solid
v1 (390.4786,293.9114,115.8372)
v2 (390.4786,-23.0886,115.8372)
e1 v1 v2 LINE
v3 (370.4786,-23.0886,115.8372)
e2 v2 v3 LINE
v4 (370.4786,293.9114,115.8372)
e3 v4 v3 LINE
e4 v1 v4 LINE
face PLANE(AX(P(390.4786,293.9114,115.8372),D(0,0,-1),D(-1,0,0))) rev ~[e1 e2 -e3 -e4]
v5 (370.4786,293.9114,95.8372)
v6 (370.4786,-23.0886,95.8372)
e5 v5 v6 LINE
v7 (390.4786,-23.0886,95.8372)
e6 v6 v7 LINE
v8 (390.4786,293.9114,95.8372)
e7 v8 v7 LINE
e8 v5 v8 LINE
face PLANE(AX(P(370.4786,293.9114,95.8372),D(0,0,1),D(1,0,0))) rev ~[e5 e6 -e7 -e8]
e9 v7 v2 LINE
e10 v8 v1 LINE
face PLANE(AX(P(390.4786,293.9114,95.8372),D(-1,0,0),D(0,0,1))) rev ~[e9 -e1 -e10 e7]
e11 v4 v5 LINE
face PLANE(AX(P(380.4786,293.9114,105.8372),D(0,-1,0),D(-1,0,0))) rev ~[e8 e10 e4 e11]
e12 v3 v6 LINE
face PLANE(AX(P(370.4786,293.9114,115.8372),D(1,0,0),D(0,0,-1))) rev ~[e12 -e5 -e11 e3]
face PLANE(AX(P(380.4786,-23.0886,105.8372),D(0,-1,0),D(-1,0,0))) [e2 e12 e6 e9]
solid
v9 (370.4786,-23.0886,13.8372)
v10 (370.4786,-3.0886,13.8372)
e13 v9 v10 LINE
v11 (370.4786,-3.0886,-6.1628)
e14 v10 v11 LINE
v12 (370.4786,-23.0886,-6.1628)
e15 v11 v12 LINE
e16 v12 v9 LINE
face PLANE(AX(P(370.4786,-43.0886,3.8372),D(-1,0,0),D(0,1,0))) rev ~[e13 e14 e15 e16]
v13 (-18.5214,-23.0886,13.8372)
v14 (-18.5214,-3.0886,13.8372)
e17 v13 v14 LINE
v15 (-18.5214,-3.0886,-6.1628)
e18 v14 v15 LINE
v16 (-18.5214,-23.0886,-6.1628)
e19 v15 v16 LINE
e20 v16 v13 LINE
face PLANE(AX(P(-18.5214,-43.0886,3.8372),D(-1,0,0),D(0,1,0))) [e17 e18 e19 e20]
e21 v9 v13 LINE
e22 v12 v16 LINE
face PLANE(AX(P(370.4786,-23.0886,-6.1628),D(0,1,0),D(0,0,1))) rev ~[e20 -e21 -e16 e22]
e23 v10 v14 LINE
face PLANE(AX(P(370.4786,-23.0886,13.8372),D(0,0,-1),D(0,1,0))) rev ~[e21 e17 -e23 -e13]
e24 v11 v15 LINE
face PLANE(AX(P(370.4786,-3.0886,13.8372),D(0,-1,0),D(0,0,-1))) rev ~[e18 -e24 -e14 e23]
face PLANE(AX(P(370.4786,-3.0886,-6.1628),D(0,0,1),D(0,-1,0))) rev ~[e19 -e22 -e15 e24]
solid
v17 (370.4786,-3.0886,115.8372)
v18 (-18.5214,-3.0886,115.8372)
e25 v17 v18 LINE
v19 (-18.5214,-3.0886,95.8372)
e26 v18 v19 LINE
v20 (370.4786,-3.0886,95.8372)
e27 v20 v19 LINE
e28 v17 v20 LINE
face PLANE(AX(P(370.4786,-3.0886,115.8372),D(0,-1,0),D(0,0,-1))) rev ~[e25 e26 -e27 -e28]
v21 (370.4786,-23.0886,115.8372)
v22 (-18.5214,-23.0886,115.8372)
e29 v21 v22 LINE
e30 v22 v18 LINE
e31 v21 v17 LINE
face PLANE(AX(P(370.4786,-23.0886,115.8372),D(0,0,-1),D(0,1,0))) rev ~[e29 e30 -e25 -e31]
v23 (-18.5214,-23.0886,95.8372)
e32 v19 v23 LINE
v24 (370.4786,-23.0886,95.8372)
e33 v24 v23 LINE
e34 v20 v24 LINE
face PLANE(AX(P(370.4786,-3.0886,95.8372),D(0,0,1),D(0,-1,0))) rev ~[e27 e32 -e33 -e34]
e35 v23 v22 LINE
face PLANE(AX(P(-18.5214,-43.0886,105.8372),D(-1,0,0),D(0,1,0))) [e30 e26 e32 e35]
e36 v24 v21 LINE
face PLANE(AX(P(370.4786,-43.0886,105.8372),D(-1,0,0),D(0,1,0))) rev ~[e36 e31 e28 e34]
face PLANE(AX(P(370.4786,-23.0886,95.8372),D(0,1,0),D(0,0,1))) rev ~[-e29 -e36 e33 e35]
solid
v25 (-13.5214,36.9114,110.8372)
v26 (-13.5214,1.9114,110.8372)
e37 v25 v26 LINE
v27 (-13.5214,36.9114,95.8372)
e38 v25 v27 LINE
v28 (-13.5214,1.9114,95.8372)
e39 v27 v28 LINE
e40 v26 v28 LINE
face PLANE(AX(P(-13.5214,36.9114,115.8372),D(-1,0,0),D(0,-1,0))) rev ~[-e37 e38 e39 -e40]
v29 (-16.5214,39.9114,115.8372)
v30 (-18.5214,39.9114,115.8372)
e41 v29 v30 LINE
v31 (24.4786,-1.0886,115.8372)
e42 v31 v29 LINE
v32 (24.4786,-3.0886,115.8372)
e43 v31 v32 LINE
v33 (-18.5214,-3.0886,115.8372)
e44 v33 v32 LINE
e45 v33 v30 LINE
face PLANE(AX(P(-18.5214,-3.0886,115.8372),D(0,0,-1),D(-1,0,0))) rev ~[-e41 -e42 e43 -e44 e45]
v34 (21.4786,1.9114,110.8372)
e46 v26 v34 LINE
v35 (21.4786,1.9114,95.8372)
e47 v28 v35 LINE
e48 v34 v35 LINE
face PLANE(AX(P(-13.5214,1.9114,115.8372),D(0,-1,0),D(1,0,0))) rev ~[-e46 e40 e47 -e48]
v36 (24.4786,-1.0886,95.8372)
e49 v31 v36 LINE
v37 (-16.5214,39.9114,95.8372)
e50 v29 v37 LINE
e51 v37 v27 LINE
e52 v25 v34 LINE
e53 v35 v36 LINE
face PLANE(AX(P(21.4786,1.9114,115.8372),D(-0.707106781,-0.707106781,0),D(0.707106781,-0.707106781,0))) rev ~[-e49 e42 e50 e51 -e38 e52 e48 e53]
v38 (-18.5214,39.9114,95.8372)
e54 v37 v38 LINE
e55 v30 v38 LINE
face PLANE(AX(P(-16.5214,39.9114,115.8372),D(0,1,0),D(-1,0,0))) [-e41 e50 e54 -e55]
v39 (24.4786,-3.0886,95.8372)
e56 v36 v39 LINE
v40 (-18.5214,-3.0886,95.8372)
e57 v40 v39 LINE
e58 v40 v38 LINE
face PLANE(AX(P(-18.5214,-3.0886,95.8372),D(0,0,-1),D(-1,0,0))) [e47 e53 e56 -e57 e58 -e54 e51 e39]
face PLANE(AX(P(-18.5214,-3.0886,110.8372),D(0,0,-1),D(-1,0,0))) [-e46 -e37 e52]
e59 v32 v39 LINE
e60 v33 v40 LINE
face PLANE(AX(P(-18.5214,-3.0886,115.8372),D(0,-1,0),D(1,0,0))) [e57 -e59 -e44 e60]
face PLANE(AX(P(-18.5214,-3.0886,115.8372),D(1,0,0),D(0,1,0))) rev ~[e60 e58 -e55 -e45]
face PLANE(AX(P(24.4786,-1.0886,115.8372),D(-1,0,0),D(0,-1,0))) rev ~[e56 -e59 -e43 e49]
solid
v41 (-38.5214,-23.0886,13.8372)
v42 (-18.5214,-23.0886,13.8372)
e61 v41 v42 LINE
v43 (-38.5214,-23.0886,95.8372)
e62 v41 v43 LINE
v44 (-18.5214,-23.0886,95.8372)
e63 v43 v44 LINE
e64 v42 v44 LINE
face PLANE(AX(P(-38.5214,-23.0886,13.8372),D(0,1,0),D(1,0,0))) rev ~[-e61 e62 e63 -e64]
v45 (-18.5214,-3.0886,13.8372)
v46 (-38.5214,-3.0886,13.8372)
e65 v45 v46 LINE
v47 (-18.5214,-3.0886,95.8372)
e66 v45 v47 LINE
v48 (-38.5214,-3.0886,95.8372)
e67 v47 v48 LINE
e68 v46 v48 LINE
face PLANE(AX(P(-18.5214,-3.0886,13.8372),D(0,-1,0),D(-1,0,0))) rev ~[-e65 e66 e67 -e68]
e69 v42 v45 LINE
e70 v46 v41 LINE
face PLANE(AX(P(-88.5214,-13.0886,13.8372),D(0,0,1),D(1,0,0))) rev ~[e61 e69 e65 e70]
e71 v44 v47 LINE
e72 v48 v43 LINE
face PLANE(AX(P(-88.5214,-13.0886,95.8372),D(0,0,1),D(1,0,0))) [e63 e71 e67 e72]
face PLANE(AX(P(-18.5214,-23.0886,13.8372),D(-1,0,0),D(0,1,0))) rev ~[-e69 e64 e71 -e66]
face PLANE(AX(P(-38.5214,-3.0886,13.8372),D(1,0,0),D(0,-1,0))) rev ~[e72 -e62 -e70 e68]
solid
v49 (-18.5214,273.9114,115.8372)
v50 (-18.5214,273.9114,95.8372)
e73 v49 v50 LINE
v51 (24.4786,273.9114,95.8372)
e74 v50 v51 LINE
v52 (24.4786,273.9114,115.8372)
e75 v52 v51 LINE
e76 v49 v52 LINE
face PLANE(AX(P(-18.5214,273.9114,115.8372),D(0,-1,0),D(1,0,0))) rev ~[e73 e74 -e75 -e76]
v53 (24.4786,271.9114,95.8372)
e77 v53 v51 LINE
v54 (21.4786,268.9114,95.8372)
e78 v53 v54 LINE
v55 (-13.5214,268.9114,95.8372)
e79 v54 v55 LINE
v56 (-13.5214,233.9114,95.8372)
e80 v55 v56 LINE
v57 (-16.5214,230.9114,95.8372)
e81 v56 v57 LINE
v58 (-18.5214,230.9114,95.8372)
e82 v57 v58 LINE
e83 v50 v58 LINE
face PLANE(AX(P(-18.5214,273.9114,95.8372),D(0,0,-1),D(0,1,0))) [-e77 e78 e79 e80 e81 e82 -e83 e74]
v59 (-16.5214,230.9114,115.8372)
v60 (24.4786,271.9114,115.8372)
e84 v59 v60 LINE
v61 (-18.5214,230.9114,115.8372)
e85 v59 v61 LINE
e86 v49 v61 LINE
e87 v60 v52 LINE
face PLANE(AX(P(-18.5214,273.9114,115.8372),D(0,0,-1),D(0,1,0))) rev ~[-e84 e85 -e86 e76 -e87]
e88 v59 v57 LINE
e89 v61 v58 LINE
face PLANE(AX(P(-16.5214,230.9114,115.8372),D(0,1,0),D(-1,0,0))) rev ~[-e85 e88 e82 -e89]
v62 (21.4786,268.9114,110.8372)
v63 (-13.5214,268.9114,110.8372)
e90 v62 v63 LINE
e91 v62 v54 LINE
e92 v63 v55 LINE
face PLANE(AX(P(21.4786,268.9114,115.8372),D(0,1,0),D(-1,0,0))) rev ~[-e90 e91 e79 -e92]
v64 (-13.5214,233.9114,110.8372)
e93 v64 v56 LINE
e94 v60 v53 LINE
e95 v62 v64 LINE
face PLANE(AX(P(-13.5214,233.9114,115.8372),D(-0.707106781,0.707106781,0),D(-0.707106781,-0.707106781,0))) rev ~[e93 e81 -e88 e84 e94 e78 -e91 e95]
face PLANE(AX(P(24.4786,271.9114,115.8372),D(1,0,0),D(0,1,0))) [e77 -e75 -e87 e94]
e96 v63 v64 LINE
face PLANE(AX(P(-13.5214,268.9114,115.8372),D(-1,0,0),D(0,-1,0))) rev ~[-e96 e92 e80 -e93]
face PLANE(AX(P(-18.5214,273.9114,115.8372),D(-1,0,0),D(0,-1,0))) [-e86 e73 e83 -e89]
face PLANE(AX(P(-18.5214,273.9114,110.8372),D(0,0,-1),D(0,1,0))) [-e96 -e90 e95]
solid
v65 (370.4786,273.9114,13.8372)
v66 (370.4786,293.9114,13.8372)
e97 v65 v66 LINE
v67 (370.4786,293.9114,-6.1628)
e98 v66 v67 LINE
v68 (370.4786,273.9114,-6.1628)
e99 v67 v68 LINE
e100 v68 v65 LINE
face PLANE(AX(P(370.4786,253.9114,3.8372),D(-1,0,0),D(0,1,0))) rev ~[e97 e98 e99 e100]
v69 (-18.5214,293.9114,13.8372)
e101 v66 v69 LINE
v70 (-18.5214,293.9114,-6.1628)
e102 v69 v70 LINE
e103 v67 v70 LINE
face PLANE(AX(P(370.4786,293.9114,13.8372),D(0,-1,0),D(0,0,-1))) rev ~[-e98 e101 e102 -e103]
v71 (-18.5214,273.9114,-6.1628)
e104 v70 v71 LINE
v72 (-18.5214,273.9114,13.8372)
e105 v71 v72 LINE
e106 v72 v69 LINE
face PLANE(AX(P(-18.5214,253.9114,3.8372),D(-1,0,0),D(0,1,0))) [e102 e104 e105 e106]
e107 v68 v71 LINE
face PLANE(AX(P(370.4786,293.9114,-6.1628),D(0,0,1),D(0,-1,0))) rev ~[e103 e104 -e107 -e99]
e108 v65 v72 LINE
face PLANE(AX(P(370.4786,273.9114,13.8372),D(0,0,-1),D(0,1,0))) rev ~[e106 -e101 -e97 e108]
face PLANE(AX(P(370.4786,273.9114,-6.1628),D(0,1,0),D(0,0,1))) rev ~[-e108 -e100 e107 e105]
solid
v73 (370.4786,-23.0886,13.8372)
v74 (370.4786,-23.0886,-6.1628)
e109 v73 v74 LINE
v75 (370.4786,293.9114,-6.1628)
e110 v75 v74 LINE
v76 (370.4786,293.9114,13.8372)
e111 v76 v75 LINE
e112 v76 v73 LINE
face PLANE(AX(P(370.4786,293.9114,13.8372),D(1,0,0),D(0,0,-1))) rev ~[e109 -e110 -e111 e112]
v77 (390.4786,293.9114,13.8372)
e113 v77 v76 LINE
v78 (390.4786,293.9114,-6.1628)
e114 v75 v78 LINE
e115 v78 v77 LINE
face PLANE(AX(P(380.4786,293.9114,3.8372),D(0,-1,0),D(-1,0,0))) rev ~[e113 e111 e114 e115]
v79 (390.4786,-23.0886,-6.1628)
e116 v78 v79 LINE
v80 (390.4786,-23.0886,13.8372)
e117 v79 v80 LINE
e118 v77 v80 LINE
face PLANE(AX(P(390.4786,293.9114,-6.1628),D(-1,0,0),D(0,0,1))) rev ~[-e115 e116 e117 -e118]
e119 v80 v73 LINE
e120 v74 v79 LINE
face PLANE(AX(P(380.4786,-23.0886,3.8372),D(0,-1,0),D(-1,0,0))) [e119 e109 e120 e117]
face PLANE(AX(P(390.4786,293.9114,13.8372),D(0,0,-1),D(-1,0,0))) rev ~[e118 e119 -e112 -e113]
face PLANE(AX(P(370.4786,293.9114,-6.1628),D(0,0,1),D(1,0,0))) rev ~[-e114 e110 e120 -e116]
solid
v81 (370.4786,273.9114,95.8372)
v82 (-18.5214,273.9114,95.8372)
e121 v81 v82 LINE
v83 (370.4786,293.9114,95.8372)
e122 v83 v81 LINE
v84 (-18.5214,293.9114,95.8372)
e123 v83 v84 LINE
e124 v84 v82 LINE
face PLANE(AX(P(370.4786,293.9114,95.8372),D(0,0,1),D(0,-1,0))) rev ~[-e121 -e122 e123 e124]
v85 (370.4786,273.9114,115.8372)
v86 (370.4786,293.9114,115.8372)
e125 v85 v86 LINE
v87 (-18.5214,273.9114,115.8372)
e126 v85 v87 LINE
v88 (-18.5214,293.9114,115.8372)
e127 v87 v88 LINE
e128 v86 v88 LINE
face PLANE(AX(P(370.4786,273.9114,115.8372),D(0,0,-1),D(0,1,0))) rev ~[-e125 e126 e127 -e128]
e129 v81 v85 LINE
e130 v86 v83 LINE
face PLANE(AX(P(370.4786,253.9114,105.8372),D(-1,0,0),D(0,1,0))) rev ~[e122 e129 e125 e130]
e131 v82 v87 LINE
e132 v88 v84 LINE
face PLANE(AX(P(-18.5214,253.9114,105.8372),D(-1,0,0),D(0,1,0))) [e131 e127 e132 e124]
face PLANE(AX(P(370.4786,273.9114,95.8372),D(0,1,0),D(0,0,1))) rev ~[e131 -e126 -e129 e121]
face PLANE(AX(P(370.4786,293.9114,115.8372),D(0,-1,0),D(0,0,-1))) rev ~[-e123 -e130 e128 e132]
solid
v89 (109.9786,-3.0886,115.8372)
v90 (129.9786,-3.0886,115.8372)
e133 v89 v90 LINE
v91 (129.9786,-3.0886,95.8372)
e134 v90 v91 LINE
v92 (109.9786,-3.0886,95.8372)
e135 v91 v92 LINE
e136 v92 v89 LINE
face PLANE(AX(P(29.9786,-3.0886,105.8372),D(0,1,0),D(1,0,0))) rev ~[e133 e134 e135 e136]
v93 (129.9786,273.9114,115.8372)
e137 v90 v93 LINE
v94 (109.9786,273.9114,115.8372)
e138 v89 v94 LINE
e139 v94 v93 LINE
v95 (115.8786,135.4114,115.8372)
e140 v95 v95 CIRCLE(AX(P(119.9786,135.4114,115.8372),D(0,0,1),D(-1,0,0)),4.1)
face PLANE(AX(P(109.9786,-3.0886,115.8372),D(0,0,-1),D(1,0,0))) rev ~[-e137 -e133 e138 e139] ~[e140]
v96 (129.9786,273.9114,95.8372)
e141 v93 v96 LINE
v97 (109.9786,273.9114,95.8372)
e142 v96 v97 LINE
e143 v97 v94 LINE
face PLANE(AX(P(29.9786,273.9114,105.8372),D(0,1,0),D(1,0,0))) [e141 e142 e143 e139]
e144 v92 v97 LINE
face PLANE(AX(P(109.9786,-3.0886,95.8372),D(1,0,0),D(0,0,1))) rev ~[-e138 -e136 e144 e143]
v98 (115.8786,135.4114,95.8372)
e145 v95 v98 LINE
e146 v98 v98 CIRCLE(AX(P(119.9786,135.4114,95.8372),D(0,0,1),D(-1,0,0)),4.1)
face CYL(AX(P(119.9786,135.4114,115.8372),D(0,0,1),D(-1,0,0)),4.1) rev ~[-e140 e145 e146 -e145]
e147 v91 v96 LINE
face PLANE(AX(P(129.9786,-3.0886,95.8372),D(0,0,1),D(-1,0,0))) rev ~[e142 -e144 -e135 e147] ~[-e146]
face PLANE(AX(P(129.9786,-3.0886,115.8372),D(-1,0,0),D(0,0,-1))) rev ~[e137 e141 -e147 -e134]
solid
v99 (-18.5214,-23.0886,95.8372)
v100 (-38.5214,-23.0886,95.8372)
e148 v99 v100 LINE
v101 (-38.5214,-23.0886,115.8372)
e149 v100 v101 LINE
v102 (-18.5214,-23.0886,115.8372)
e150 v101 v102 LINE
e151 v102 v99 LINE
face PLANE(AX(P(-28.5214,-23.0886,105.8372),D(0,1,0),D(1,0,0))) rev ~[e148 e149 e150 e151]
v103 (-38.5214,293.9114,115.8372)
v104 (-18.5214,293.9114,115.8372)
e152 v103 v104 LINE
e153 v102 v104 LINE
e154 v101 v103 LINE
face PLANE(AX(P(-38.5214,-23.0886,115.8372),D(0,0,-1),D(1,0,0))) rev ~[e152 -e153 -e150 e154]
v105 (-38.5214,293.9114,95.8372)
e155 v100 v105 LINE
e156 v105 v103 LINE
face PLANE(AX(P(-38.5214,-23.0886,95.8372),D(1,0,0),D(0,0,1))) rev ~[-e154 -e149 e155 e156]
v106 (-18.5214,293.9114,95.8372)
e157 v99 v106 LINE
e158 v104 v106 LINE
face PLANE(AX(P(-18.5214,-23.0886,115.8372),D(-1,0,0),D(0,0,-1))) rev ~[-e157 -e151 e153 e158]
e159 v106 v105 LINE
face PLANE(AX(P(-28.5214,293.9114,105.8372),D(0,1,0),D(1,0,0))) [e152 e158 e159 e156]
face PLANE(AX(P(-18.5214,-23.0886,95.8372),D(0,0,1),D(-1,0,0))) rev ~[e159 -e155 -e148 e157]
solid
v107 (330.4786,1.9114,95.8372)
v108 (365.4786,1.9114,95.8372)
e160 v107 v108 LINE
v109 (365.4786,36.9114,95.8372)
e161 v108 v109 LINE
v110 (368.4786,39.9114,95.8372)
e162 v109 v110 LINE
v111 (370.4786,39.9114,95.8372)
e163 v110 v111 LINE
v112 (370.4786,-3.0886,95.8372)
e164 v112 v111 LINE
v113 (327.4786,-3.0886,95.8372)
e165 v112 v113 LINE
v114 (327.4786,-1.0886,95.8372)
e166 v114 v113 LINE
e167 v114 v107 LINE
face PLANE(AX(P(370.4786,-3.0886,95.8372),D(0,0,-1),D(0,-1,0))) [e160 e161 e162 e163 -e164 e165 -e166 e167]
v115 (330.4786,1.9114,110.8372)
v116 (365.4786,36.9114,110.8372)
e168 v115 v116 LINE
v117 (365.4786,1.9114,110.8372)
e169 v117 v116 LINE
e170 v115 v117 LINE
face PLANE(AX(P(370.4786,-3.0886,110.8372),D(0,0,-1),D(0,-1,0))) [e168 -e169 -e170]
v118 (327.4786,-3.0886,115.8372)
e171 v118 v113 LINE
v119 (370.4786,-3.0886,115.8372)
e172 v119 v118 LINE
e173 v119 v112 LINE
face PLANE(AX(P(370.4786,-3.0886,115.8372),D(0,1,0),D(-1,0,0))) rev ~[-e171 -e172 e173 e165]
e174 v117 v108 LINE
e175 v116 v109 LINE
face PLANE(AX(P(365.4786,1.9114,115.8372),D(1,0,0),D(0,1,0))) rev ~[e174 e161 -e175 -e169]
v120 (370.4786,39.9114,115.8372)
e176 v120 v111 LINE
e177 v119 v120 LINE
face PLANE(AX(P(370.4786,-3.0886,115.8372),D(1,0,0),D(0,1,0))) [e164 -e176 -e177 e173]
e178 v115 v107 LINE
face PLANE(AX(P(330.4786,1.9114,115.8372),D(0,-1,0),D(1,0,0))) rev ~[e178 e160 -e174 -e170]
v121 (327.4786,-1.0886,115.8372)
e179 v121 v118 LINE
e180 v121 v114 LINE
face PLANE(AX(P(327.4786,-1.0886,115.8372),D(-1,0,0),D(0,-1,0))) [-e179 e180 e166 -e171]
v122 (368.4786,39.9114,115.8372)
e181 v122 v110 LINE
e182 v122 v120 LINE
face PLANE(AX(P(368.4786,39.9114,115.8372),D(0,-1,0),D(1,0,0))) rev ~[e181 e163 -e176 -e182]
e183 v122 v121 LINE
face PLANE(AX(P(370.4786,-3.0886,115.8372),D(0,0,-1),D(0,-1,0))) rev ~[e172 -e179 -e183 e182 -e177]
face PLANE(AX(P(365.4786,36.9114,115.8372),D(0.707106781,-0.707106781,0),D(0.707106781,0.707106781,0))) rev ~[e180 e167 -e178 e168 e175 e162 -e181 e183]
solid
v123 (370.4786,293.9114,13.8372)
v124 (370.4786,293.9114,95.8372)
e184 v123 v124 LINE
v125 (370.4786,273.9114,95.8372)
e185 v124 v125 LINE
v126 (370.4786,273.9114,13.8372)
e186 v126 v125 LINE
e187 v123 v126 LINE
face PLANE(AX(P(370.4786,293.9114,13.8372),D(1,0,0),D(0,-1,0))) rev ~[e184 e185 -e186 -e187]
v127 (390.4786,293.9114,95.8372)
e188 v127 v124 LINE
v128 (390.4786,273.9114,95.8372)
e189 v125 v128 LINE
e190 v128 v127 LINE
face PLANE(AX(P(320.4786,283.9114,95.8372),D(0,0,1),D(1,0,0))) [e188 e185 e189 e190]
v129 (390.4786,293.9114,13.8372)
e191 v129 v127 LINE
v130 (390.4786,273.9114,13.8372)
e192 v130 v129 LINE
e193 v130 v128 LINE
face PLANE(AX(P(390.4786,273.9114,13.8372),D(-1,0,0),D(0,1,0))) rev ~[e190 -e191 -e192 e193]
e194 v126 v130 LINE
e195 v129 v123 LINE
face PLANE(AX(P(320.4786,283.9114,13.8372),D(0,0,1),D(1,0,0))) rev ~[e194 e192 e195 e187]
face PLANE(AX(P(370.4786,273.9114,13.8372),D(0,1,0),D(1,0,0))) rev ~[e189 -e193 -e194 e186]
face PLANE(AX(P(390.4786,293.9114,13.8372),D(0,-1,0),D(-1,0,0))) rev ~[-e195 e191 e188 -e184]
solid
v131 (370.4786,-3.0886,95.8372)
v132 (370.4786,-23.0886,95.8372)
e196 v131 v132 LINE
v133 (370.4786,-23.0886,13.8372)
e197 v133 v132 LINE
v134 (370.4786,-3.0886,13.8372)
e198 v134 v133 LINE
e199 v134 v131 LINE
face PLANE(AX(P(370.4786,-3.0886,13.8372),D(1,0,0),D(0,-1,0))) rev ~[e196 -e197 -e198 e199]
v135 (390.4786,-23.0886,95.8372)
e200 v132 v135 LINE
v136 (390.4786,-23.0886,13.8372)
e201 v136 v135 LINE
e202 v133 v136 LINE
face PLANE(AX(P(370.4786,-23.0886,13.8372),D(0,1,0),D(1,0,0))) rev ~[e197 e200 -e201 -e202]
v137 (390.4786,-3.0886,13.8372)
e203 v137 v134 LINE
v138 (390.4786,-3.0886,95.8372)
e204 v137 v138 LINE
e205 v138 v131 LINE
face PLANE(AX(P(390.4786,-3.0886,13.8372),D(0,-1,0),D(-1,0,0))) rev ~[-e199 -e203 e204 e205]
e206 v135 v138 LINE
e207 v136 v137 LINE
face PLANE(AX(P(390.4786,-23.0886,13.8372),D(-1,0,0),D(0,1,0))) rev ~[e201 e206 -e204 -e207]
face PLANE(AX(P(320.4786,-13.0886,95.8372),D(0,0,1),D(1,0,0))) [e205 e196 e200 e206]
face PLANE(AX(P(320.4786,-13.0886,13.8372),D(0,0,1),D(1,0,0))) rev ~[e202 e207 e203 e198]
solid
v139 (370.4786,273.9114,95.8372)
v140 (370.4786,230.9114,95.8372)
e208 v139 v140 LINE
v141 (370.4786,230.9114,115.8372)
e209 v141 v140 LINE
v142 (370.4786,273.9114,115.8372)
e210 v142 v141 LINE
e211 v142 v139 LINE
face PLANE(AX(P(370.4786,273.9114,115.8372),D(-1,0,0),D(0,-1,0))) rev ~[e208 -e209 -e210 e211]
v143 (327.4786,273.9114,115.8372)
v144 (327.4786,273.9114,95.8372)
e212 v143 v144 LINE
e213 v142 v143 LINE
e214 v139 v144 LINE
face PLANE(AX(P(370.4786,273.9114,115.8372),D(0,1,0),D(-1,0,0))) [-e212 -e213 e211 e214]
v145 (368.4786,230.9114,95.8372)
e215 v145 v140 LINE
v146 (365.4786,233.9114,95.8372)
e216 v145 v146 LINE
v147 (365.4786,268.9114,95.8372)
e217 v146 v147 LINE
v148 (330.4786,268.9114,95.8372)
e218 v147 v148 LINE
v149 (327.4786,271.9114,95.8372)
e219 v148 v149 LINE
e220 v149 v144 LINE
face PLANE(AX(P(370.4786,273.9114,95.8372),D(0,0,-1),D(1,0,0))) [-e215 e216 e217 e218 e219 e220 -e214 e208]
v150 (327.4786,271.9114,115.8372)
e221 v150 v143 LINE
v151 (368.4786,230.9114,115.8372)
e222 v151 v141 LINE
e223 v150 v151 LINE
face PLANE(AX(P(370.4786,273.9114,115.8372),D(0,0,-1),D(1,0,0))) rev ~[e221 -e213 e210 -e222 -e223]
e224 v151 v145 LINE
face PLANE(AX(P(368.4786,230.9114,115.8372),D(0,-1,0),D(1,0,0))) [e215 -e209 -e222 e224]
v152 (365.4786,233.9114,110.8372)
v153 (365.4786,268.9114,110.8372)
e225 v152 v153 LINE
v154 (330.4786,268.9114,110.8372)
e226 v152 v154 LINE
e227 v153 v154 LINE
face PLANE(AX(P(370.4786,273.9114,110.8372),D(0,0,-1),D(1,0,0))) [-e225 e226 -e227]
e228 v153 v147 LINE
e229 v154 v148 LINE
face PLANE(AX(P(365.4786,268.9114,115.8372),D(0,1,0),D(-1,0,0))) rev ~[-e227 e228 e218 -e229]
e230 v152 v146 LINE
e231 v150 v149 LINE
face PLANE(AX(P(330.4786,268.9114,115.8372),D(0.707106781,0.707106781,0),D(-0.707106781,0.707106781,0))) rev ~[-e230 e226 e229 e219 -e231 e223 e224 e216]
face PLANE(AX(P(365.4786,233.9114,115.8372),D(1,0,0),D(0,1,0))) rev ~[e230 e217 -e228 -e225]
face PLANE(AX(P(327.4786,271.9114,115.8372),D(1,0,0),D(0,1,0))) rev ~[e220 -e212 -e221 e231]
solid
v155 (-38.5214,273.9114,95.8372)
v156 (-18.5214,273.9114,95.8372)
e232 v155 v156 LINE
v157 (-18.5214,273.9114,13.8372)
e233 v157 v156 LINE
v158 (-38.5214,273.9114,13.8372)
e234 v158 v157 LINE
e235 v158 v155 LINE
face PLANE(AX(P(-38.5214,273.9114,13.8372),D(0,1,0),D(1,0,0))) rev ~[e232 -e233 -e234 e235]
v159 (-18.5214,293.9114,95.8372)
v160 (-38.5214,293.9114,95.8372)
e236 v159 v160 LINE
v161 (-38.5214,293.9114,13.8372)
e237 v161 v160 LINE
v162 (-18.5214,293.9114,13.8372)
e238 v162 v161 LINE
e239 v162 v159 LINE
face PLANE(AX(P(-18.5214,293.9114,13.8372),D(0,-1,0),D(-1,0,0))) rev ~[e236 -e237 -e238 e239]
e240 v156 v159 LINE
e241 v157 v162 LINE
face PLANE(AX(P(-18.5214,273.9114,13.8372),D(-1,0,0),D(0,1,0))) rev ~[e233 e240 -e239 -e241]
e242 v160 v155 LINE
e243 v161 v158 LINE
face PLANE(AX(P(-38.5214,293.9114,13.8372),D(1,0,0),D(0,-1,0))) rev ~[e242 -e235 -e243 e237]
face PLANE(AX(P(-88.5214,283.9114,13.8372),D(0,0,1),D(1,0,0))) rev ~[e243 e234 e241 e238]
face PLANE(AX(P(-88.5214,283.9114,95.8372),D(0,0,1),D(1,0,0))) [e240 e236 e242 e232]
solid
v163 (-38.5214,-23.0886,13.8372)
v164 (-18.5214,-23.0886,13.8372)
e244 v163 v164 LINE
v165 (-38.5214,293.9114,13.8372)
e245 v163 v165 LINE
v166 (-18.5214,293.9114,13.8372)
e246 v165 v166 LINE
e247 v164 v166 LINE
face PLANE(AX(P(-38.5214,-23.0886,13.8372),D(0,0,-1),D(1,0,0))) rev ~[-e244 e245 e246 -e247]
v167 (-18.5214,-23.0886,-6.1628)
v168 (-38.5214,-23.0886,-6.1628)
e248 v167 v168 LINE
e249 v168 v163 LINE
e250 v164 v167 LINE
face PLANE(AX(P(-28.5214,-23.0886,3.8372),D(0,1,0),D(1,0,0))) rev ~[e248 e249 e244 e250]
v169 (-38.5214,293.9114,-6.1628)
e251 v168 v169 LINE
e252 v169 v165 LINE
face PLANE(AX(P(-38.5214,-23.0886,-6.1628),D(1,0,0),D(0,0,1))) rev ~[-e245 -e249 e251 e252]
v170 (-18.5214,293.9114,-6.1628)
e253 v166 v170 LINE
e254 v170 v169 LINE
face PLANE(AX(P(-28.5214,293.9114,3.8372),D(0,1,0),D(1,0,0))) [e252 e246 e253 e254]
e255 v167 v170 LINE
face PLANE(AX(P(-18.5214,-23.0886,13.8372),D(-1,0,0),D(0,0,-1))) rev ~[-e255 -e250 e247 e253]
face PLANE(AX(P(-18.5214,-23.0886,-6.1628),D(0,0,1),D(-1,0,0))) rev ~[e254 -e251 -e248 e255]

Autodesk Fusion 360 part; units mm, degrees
sketch "Sketch1" plane through (0, 0, 0) normal (0, 1, 0) x (1, 0, 0)
  line L0 (10, 10) -> (-10, 10)
  line L1 (-10, 10) -> (-10, -10)
  line L2 (-10, -10) -> (10, -10)
  line L3 (10, -10) -> (10, 10)
  line L4 (10, 10) -> (-10, -10) construction
  line L5 (-10, 10) -> (10, -10) construction
  line L6 (20, 10) -> (20, -10)
  line L7 (20, -10) -> (40, -10)
  line L8 (40, -10) -> (40, 10)
  line L9 (40, 10) -> (20, 10)
  line L10 (50, 10) -> (50, -10)
  line L11 (50, -10) -> (70, -10)
  line L12 (70, -10) -> (70, 10)
  line L13 (70, 10) -> (50, 10)
  line L14 (100, 10) -> (80, 10)
  line L15 (80, 10) -> (80, -10)
  line L16 (80, -10) -> (100, -10)
  line L17 (100, -10) -> (100, 10)
  dimension "d1" = 20
  dimension "d2" = 20
  dimension "d5" = 20
  dimension "d6" = 20
  dimension "d9" = 20
  dimension "d10" = 20
  dimension "d145" = 20
  dimension "d146" = 20
extrude "Extrude1" add sketch "Sketch1" along normal blind 317 contours L0 L1 L2 L3 makes body 1
extrude "Extrude2" add sketch "Sketch1" along normal blind 389 separate body contours L6 L7 L8 L9 makes body 2
extrude "Extrude3" add sketch "Sketch1" along normal blind 82 separate body contours L10 L11 L12 L13 makes body 3
extrude "Extrude4" add sketch "Sketch1" along normal blind 277 separate body contours L14 L15 L16 L17 makes body 4
sketch "Sketch2" plane through (0, 0, 10) normal (0, 0, 1) x (-1, 0, 0)
  line L0 (-80, 0) -> (-100, 0)
  line L1 (-100, 0) -> (-100, -277)
  line L2 (-100, -277) -> (-80, -277)
  line L3 (-80, -277) -> (-80, 0)
  line L4 (-100, -277) -> (-80, 0) construction
  circle A0 centre (-90, -138.5) radius 4.1
  dimension "d149" = 8.2
extrude "Extrude5" cut sketch "Sketch2" against normal through all contours A0 bodies 4
copy_body "Body->Comp1" bodies 3 removing the originals makes body 5 in component "Profile_20x20x82"
copy_body "Body->Comp2" bodies 1 removing the originals makes body 6 in component "Profile_20x20x317"
copy_body "Body->Comp3" bodies 2 removing the originals makes body 7 in component "Profile_20x20x389"
copy_body "Body->Comp4" bodies 4 removing the originals makes body 8 in component "Profile_20x20x277"
sketch "Sketch1 (2)" plane through (0, 0, 0) normal (0, 0, 1) x (1, 0, 0) in component "Corner Structure v3"
  line L0 (0, 0) -> (-45, 0)
  line L1 (0, 0) -> (0, 45)
  line L2 (0, 45) -> (-45, 0)
  line L3 (-5, 40) -> (-5, 5)
  line L4 (-5, 5) -> (-40, 5)
  line L5 (-2, 43) -> (0, 43)
  line L6 (-43, 2) -> (-43, 0)
  dimension "d1_1" = 45
  dimension "d2_1" = 45
  dimension "d5_1" = 5
  dimension "d6_1" = 5
  dimension "d7_1" = 2
  dimension "d8_1" = 2
extrude "Extrude2'" add sketch "Sketch1 (2)" along normal blind 20 separate body contours L0 L1 L2 L3 L4 L5 L6 makes body 9 in component "Corner Structure v3"
extrude "Extrude3'" add sketch "Sketch1 (2)" along normal blind 5 contours L2 L3 L4 bodies 9 in component "Corner Structure v3"
sketch "Sketch1 (3)" plane through (0, 0, 0) normal (0, 0, 1) x (1, 0, 0) in component "Corner Structure v3 (1)"
  line L0 (0, 0) -> (-45, 0)
  line L1 (0, 0) -> (0, 45)
  line L2 (0, 45) -> (-45, 0)
  line L3 (-5, 40) -> (-5, 5)
  line L4 (-5, 5) -> (-40, 5)
  line L5 (-2, 43) -> (0, 43)
  line L6 (-43, 2) -> (-43, 0)
  dimension "d1_2" = 45
  dimension "d2_2" = 45
  dimension "d5_2" = 5
  dimension "d6_2" = 5
  dimension "d7_2" = 2
  dimension "d8_2" = 2
extrude "Extrude2''" add sketch "Sketch1 (3)" along normal blind 20 separate body contours L0 L1 L2 L3 L4 L5 L6 makes body 10 in component "Corner Structure v3 (1)"
extrude "Extrude3''" add sketch "Sketch1 (3)" along normal blind 5 contours L2 L3 L4 bodies 10 in component "Corner Structure v3 (1)"
sketch "Sketch1 (4)" plane through (0, 0, 0) normal (0, 0, 1) x (1, 0, 0) in component "Corner Structure v3 (2)"
  line L0 (0, 0) -> (-45, 0)
  line L1 (0, 0) -> (0, 45)
  line L2 (0, 45) -> (-45, 0)
  line L3 (-5, 40) -> (-5, 5)
  line L4 (-5, 5) -> (-40, 5)
  line L5 (-2, 43) -> (0, 43)
  line L6 (-43, 2) -> (-43, 0)
  dimension "d1_3" = 45
  dimension "d2_3" = 45
  dimension "d5_3" = 5
  dimension "d6_3" = 5
  dimension "d7_3" = 2
  dimension "d8_3" = 2
extrude "Extrude2'''" add sketch "Sketch1 (4)" along normal blind 20 separate body contours L0 L1 L2 L3 L4 L5 L6 makes body 11 in component "Corner Structure v3 (2)"
extrude "Extrude3'''" add sketch "Sketch1 (4)" along normal blind 5 contours L2 L3 L4 bodies 11 in component "Corner Structure v3 (2)"
sketch "Sketch1 (5)" plane through (0, 0, 0) normal (0, 0, 1) x (1, 0, 0) in component "Corner Structure v3 (3)"
  line L0 (0, 0) -> (-45, 0)
  line L1 (0, 0) -> (0, 45)
  line L2 (0, 45) -> (-45, 0)
  line L3 (-5, 40) -> (-5, 5)
  line L4 (-5, 5) -> (-40, 5)
  line L5 (-2, 43) -> (0, 43)
  line L6 (-43, 2) -> (-43, 0)
  dimension "d1_4" = 45
  dimension "d2_4" = 45
  dimension "d5_4" = 5
  dimension "d6_4" = 5
  dimension "d7_4" = 2
  dimension "d8_4" = 2
extrude "Extrude2''''" add sketch "Sketch1 (5)" along normal blind 20 separate body contours L0 L1 L2 L3 L4 L5 L6 makes body 12 in component "Corner Structure v3 (3)"
extrude "Extrude3''''" add sketch "Sketch1 (5)" along normal blind 5 contours L2 L3 L4 bodies 12 in component "Corner Structure v3 (3)"
component "Profile_20x20x82" placed x (1, 0, 0) y (0, 0, 1) z (0, -1, 0) at (-88.5214, -13.0886, 13.8372)
component "Profile_20x20x317" placed x (1, 0, 0) y (0, 1, 0) z (0, 0, 1) at (-28.5214, -23.0886, 3.8372)
component "Profile_20x20x389" placed x (0, 1, 0) y (-1, 0, 0) z (0, 0, 1) at (370.4786, -43.0886, 3.8372)
component "Profile_20x20x277" placed x (1, 0, 0) y (0, 1, 0) z (0, 0, 1) at (29.9786, -3.0886, 105.8372)
component "Profile_20x20x317" placed x (-1, 0, 0) y (0, -1, 0) z (0, 0, 1) at (380.4786, 293.9114, 3.8372)
component "Profile_20x20x389" placed x (0, 1, 0) y (-1, 0, 0) z (0, 0, 1) at (370.4786, 253.9114, 3.8372)
component "Profile_20x20x317" placed x (1, 0, 0) y (0, 1, 0) z (0, 0, 1) at (-28.5214, -23.0886, 105.8372)
component "Profile_20x20x389" placed x (0, 1, 0) y (-1, 0, 0) z (0, 0, 1) at (370.4786, -43.0886, 105.8372)
component "Profile_20x20x317" placed x (-1, 0, 0) y (0, -1, 0) z (0, 0, 1) at (380.4786, 293.9114, 105.8372)
component "Profile_20x20x389" placed x (0, 1, 0) y (-1, 0, 0) z (0, 0, 1) at (370.4786, 253.9114, 105.8372)
component "Profile_20x20x82" placed x (1, 0, 0) y (0, 0, 1) z (0, -1, 0) at (320.4786, -13.0886, 13.8372)
component "Profile_20x20x82" placed x (1, 0, 0) y (0, 0, 1) z (0, -1, 0) at (320.4786, 283.9114, 13.8372)
component "Profile_20x20x82" placed x (1, 0, 0) y (0, 0, 1) z (0, -1, 0) at (-88.5214, 283.9114, 13.8372)
component "Corner Structure v3" placed x (0, 1, 0) y (1, 0, 0) z (0, 0, -1) at (-18.5214, 273.9114, 115.8372)
component "Corner Structure v3 (1)" placed x (-1, 0, 0) y (0, 1, 0) z (0, 0, -1) at (-18.5214, -3.0886, 115.8372)
component "Corner Structure v3 (2)" placed x (1, 0, 0) y (0, -1, 0) z (0, 0, -1) at (370.4786, 273.9114, 115.8372)
component "Corner Structure v3 (3)" placed x (0, -1, 0) y (-1, 0, 0) z (0, 0, -1) at (370.4786, -3.0886, 115.8372)
